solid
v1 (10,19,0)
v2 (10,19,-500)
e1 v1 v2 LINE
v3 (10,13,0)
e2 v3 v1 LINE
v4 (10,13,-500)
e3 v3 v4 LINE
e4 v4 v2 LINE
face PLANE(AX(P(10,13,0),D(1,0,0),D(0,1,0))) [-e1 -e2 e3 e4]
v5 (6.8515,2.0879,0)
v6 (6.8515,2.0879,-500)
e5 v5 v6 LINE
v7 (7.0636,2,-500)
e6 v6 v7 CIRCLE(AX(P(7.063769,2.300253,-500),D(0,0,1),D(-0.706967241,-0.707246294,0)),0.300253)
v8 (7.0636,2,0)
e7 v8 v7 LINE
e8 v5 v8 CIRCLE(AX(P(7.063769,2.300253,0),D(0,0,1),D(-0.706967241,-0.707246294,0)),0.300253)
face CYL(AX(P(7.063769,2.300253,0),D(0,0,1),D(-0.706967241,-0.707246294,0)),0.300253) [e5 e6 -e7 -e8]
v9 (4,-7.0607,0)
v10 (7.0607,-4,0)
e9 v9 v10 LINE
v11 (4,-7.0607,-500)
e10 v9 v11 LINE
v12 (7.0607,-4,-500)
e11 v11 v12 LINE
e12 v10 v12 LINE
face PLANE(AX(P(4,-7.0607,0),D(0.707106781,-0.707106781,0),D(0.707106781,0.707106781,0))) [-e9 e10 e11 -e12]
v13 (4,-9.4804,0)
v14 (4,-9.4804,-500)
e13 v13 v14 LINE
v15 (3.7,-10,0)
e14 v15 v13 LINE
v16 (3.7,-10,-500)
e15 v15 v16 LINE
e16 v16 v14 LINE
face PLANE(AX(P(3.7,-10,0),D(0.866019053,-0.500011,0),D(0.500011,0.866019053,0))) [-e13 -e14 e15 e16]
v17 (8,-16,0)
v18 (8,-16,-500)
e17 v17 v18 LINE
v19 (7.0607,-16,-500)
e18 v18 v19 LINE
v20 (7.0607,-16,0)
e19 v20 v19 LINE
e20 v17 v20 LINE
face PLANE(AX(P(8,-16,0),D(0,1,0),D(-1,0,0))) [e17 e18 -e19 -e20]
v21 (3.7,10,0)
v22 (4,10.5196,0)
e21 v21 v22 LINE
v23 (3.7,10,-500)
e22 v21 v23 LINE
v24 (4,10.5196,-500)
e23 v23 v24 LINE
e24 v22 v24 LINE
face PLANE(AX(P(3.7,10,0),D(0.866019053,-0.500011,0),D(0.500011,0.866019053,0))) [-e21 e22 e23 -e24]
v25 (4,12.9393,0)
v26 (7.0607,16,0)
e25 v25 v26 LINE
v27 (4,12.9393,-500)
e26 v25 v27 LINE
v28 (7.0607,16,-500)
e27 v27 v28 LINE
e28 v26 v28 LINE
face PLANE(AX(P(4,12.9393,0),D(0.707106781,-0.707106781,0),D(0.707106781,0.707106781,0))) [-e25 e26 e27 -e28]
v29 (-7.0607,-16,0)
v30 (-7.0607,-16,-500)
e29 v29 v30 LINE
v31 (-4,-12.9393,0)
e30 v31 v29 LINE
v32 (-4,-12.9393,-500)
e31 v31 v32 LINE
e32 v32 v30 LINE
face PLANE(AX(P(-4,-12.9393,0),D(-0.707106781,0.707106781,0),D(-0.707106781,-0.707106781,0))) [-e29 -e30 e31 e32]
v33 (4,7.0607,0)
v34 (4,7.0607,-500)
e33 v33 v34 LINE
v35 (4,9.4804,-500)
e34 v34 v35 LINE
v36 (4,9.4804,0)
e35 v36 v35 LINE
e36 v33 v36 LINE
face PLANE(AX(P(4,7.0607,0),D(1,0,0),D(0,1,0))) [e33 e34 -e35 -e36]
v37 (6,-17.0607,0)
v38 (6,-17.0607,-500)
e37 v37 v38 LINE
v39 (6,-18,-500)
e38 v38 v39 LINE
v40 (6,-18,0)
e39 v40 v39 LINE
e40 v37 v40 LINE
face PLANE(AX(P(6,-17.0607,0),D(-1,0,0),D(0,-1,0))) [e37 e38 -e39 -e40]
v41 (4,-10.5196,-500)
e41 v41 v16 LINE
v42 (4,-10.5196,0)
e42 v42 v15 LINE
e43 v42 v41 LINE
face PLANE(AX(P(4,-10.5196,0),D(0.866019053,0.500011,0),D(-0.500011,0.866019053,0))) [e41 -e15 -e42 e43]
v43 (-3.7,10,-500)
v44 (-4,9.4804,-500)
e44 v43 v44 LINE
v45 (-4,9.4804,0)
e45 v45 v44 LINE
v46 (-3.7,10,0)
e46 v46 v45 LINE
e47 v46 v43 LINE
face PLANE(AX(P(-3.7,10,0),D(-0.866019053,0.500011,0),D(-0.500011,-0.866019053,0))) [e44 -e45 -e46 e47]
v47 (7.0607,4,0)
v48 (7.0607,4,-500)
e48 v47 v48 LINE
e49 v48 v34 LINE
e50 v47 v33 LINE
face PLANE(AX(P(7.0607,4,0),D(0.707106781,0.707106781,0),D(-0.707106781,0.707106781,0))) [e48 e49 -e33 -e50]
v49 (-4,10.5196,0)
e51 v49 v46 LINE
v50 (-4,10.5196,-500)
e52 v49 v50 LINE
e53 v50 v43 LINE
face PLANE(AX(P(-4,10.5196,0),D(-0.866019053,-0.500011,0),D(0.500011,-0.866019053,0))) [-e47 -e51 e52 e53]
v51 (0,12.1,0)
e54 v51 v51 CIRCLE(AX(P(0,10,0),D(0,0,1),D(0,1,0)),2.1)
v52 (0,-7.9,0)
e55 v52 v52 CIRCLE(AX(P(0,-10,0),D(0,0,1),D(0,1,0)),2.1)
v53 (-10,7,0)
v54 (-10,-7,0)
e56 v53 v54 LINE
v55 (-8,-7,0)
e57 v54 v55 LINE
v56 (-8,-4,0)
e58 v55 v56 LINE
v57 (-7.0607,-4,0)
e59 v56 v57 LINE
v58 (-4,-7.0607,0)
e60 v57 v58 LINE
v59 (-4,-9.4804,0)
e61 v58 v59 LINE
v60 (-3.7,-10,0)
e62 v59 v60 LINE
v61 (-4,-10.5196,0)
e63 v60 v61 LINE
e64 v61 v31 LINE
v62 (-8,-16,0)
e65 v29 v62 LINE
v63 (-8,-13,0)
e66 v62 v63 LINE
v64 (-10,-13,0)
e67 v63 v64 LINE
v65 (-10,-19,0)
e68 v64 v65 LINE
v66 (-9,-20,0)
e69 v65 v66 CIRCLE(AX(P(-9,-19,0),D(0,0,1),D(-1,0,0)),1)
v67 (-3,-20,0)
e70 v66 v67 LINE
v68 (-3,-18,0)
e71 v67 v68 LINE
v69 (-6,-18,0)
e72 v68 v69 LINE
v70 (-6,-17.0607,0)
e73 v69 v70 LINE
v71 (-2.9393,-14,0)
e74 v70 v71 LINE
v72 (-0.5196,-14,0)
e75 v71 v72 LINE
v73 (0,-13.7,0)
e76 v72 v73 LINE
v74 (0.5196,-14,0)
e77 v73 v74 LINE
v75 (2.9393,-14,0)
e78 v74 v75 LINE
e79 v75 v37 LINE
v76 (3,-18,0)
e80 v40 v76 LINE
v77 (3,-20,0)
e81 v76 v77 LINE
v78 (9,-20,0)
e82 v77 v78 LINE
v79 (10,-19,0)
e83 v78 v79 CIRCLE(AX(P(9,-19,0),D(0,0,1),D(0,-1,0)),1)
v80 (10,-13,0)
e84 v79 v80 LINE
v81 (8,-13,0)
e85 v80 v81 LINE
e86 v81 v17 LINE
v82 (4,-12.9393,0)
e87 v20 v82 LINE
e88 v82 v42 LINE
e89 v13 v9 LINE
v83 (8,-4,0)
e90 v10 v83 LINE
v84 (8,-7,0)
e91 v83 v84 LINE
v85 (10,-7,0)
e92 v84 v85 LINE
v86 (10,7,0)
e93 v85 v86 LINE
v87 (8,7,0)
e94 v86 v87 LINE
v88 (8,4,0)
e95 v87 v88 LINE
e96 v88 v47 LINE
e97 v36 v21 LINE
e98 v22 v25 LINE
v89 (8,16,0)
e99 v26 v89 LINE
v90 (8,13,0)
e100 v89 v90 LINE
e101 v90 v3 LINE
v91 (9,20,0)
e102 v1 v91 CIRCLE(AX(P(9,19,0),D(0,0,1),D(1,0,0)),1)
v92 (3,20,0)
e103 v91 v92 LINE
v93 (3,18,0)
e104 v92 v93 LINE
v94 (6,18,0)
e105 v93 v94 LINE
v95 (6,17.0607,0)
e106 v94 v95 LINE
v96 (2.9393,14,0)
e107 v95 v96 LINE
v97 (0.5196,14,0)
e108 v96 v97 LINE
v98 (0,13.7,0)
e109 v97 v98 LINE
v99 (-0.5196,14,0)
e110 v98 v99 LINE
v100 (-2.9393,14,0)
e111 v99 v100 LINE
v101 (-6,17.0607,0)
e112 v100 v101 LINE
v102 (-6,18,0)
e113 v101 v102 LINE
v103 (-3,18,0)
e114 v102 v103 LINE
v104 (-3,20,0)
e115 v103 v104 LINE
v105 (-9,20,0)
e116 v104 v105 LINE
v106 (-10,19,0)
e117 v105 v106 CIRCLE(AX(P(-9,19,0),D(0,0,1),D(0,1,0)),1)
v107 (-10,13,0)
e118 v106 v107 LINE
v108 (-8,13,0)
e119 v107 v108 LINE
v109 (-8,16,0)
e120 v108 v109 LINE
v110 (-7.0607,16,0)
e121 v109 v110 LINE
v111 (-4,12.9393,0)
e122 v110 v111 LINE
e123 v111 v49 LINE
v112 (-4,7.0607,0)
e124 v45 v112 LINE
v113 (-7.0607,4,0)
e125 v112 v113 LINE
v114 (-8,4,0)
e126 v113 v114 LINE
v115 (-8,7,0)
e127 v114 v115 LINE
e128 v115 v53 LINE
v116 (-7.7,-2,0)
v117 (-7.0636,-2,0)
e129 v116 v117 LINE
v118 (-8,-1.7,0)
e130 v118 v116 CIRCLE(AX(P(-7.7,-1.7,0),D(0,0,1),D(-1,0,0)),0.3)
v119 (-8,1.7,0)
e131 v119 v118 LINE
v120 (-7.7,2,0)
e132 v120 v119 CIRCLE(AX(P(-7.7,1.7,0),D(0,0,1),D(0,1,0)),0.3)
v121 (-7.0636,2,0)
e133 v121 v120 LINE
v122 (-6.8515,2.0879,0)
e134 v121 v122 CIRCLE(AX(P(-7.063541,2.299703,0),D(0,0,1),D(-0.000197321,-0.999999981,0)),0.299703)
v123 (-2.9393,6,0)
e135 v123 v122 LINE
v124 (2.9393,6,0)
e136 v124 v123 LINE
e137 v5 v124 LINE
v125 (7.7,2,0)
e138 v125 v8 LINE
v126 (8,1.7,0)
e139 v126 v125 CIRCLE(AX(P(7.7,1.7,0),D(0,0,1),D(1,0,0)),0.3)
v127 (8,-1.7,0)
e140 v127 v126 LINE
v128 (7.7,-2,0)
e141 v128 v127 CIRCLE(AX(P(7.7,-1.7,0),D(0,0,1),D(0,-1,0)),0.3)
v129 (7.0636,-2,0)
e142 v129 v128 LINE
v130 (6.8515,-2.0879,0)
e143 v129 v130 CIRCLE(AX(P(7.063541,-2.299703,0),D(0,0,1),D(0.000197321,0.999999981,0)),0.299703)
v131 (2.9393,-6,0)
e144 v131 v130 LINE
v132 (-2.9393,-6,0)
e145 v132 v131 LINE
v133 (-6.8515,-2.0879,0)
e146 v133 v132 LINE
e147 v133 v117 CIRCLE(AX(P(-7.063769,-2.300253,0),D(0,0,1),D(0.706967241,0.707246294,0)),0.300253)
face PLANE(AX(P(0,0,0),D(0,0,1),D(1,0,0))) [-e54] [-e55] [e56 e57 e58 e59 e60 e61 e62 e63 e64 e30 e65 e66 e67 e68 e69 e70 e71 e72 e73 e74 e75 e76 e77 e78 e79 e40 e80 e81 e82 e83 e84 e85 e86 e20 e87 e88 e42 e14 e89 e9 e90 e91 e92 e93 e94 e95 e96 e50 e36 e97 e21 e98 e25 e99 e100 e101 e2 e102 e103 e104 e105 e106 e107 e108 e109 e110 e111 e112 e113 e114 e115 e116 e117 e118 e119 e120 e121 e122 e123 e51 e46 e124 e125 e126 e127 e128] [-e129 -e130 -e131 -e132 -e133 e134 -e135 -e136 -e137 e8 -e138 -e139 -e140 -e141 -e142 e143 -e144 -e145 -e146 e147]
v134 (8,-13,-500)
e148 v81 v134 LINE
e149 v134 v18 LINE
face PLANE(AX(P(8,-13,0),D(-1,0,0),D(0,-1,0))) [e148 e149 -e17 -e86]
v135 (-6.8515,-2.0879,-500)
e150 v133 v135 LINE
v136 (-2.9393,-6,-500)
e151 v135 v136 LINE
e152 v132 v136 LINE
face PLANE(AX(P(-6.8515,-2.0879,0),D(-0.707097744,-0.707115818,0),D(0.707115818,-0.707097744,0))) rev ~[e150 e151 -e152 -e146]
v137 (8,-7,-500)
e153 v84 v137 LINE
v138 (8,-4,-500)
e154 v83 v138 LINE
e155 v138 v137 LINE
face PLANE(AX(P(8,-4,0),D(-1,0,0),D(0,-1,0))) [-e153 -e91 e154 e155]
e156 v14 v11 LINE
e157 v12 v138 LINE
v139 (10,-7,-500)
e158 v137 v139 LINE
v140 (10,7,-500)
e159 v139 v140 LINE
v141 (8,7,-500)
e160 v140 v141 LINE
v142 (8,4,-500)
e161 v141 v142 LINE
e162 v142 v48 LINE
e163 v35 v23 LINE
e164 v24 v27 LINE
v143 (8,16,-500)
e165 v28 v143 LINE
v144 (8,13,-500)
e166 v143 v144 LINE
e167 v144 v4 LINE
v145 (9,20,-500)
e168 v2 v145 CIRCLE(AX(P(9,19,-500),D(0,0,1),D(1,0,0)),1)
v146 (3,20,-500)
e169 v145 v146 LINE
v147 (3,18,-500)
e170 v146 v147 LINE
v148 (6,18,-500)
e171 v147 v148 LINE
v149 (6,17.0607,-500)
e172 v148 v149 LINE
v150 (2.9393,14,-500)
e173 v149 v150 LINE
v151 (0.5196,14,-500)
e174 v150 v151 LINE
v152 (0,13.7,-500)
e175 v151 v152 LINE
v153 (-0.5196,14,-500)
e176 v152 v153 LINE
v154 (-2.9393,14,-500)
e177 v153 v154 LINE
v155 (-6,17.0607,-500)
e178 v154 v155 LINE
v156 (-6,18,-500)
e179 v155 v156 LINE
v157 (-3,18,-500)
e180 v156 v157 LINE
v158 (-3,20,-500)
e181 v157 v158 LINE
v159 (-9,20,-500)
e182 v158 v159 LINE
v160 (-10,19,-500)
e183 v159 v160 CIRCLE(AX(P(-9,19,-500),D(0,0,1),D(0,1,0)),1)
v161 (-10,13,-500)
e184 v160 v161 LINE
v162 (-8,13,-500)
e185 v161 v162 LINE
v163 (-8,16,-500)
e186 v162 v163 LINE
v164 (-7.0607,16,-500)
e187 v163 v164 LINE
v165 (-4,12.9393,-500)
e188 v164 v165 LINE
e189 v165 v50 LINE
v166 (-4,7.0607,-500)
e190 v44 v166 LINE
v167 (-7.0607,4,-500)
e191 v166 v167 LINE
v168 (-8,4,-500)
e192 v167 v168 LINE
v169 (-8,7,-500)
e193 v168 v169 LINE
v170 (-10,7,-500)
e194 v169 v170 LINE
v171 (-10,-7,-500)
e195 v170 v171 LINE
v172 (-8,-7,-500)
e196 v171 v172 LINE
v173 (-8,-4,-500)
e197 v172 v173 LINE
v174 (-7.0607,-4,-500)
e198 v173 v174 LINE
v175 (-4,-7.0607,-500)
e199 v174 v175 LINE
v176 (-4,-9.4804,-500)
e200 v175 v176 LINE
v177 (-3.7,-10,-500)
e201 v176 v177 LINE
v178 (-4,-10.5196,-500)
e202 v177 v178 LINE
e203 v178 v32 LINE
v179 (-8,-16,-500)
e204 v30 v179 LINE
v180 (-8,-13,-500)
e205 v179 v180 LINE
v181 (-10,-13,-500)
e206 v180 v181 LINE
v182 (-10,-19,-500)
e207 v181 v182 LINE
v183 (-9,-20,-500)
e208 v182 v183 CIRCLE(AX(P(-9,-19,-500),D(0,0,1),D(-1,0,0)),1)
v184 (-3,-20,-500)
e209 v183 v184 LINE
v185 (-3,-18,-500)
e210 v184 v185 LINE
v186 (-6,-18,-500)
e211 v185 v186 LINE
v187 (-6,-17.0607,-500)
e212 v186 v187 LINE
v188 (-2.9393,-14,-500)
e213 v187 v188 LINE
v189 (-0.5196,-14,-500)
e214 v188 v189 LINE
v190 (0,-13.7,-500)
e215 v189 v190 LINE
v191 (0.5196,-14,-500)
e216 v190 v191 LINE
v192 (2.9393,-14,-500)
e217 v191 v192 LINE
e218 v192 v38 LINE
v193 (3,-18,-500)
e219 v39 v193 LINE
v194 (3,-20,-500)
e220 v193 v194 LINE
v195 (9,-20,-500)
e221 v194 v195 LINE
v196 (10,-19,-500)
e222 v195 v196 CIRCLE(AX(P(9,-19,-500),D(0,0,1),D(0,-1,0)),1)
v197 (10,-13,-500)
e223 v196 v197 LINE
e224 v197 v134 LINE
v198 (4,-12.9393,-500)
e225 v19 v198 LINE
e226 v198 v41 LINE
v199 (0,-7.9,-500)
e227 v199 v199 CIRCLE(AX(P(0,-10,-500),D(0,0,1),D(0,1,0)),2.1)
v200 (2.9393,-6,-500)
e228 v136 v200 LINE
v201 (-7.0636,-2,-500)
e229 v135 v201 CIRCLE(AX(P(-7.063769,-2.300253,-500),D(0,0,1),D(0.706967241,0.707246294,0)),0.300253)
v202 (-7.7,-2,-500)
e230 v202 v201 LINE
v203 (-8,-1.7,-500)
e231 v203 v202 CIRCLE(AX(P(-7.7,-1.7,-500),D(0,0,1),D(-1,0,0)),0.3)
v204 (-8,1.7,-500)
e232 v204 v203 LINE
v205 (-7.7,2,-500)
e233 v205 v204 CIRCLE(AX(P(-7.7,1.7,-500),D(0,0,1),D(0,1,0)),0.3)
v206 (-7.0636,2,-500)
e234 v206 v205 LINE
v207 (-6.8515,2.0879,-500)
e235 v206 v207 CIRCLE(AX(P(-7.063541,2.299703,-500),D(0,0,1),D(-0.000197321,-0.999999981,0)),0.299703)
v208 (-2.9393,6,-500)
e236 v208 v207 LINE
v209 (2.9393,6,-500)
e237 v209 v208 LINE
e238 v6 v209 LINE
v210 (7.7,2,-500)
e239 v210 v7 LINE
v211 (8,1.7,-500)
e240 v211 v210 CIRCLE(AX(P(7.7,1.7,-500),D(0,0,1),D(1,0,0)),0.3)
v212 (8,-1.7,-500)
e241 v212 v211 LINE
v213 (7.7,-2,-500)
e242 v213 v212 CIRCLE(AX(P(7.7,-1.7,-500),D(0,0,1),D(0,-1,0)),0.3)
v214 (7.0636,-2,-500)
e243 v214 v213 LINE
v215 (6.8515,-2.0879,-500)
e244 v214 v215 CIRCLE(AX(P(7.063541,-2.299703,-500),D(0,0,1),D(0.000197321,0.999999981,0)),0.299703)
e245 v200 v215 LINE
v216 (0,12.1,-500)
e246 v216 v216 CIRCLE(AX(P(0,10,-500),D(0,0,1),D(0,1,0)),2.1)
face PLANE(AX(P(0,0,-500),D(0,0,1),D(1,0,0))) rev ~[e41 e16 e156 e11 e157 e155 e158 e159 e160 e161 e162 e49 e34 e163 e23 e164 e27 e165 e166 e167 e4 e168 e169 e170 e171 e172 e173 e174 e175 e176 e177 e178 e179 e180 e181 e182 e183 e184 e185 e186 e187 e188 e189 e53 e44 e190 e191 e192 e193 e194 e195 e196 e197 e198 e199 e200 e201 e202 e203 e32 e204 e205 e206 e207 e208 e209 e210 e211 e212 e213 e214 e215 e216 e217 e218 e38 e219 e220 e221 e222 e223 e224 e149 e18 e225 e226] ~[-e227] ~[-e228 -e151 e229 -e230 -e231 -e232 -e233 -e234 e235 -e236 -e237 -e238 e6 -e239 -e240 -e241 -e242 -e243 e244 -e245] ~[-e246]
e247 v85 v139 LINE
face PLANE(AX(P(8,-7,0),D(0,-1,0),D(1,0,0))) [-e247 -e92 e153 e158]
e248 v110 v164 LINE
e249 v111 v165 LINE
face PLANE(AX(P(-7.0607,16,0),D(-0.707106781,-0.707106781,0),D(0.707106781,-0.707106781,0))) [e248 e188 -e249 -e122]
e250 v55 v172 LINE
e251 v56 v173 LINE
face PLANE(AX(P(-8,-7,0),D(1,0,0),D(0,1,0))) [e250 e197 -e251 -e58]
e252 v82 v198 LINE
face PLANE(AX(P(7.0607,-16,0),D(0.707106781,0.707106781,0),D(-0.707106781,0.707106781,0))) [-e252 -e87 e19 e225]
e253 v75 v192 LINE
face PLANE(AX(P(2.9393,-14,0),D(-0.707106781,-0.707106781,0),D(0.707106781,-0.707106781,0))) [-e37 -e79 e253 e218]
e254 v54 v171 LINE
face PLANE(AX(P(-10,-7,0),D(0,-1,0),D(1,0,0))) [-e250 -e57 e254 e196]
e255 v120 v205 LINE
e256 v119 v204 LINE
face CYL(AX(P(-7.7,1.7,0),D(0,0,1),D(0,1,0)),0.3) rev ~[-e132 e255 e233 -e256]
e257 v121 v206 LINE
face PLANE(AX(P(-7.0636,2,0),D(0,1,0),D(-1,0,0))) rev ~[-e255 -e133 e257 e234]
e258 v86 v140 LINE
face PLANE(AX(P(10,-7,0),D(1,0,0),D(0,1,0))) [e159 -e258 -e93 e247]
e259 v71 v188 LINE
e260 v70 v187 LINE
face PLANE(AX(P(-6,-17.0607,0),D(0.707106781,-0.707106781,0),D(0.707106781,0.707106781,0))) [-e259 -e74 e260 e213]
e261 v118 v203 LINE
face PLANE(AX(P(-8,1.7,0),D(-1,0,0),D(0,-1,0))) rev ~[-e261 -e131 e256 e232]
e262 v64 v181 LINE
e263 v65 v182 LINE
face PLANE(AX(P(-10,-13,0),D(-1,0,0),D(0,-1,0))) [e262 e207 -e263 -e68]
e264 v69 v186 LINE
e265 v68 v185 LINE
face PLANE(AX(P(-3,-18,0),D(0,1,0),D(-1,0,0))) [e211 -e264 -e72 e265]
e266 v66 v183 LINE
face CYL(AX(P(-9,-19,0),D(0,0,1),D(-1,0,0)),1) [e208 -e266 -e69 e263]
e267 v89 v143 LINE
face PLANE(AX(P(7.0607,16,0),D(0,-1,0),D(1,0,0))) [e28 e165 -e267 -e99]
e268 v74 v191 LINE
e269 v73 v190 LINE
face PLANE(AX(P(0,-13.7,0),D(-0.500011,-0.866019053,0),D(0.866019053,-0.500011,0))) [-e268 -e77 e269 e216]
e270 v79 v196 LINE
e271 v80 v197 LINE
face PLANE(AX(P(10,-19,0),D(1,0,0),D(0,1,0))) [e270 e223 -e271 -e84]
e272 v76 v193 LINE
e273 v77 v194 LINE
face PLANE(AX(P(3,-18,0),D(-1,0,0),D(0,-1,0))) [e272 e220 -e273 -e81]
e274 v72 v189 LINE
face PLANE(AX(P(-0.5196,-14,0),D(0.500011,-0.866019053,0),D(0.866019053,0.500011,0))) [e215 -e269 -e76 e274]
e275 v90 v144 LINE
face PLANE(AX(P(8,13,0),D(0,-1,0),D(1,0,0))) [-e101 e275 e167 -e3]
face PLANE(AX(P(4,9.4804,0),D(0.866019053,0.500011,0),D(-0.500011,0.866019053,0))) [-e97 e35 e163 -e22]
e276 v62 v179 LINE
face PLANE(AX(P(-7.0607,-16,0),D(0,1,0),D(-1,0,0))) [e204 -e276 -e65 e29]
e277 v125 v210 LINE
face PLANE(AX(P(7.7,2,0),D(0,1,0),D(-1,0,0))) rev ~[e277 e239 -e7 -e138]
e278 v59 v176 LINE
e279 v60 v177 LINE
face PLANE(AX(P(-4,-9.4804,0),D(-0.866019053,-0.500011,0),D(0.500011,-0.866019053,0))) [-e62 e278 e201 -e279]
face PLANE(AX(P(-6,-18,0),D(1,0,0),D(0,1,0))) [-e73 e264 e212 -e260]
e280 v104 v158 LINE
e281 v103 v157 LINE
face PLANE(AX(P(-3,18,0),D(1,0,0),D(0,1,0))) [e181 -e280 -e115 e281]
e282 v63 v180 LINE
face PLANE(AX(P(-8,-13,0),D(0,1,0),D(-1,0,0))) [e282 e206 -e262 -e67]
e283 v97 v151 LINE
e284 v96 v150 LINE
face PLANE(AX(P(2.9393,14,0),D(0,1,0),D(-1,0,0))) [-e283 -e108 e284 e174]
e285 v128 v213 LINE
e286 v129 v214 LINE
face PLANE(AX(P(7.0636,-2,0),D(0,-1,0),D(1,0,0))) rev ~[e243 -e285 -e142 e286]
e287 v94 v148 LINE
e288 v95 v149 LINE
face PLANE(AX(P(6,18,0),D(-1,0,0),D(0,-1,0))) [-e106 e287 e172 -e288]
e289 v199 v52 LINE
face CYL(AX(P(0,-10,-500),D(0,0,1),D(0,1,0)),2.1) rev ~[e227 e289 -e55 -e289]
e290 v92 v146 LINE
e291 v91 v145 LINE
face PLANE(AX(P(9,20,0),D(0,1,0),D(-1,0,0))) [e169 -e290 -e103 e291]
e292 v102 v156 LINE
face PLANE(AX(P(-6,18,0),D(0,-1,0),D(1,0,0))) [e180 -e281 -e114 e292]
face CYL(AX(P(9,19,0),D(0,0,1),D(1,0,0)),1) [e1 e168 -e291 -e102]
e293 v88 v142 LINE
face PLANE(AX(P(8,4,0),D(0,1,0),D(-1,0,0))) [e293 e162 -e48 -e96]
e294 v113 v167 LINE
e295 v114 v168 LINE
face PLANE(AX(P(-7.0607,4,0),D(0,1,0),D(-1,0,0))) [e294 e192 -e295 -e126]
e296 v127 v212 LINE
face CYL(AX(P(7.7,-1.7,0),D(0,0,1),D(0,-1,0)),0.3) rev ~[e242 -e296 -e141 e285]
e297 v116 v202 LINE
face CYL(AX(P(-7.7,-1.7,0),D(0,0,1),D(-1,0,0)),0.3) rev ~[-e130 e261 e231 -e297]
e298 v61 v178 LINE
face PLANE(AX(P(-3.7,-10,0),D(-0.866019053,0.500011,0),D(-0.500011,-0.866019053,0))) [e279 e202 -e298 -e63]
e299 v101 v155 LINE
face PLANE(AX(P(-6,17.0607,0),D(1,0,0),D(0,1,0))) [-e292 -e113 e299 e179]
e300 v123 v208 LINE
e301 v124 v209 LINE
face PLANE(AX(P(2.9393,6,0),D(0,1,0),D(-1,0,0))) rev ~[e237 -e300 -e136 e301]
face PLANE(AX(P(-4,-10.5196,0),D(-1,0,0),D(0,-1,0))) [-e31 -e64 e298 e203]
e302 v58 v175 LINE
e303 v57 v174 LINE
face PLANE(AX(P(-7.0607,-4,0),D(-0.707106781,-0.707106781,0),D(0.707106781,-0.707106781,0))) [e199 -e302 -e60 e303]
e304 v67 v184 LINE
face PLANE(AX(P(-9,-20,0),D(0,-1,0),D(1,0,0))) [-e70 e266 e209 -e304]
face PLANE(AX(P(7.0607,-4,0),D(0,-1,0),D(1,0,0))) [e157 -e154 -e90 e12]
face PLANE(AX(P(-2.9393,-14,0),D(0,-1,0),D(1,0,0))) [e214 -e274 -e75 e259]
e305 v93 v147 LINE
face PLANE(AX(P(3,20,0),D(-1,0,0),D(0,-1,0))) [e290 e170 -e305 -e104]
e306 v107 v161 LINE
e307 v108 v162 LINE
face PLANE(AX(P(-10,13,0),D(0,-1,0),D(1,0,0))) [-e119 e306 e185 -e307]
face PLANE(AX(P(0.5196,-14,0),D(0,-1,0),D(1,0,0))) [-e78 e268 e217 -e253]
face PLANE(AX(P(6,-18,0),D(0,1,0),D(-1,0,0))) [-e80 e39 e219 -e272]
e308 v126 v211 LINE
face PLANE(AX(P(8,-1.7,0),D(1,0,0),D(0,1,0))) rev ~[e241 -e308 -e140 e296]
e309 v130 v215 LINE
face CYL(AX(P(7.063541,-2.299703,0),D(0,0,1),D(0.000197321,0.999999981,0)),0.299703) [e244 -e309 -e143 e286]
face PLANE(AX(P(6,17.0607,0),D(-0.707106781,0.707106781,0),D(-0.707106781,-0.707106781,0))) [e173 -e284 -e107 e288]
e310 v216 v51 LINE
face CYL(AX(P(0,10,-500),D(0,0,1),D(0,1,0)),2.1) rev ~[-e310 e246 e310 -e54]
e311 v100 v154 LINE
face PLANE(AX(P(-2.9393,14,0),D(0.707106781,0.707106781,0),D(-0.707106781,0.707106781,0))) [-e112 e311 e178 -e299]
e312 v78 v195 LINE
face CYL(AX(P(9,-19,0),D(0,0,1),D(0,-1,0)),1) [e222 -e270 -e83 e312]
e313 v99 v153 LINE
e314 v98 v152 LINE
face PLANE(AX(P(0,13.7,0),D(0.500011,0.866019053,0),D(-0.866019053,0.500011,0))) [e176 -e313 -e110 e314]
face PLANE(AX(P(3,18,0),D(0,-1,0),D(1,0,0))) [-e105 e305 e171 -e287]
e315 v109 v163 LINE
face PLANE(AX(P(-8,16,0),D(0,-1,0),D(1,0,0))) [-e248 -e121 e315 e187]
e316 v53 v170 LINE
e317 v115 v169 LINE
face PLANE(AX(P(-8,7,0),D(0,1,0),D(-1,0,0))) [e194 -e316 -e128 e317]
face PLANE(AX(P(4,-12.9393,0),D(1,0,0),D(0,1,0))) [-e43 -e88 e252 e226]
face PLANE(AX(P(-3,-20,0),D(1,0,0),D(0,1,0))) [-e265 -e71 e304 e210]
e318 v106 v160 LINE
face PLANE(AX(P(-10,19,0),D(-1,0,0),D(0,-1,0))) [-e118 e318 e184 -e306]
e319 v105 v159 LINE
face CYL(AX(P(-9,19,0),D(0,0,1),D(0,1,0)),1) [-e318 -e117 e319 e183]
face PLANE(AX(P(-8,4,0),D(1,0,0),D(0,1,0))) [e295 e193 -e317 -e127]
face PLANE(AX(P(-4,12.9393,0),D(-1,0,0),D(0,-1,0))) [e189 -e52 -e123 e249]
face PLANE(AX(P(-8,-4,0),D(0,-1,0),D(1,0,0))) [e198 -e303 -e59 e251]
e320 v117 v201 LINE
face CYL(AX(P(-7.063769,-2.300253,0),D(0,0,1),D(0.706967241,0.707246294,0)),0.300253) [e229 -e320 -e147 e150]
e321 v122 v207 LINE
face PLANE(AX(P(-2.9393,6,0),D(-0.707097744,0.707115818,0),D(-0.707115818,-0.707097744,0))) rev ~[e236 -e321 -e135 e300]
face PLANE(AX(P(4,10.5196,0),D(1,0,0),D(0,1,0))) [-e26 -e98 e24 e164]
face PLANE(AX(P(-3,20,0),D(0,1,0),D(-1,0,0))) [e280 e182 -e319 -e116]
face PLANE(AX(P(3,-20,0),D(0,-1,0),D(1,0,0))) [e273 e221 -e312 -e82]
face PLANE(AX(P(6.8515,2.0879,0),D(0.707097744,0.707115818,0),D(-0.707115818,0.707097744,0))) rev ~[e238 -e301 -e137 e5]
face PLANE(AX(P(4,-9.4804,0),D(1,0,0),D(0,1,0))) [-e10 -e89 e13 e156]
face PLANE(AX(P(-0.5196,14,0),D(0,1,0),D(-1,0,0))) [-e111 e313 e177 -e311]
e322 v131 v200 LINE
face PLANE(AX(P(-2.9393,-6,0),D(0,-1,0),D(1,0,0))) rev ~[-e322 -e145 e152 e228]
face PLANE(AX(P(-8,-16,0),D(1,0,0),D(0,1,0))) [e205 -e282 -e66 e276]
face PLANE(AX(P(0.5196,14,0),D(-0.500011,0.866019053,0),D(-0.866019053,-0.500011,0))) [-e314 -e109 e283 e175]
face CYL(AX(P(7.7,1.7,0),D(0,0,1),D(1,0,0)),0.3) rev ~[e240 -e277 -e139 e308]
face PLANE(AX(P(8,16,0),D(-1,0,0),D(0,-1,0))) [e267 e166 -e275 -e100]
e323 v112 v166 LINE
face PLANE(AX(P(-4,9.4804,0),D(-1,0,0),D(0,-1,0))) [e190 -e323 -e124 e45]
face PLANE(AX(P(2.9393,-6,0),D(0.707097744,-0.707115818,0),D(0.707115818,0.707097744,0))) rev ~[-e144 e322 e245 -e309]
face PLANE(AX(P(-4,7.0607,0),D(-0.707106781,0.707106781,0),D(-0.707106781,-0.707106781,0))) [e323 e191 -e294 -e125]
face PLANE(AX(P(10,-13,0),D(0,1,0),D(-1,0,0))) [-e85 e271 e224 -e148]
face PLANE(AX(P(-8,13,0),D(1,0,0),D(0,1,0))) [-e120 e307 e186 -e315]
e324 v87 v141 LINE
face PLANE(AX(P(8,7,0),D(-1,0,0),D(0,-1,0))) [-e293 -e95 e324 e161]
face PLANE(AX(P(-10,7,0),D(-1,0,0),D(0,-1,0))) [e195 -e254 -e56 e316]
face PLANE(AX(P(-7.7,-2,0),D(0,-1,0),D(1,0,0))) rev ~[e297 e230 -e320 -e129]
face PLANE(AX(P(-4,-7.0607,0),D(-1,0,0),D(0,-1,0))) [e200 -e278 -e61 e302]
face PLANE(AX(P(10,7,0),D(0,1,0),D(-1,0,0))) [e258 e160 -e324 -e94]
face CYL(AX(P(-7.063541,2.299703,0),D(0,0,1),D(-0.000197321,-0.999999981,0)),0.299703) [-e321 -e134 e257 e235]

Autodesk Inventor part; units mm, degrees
sketch "Sketch_1" plane through (0, 0, 0) normal (0, 0, 1) x (1, 0, 0)
  line L0 (-10, -7) -> (-8, -7)
  line L1 (-8, -7) -> (-8, -4)
  line L2 (-8, -4) -> (-7.0607, -4)
  line L3 (-7.0607, -4) -> (-4, -7.0607)
  line L4 (-4, -7.0607) -> (-4, -9.4804)
  line L5 (-4, -9.4804) -> (-3.7, -10)
  line L6 (-3.7, -10) -> (-4, -10.5196)
  line L7 (-4, -10.5196) -> (-4, -12.9393)
  line L8 (-4, -12.9393) -> (-7.0607, -16)
  line L9 (-7.0607, -16) -> (-8, -16)
  line L10 (-8, -16) -> (-8, -13)
  line L11 (-8, -13) -> (-10, -13)
  line L12 (-10, -13) -> (-10, -19)
  arc A0 (-10, -19) -> (-9, -20) centre (-9, -19) ccw
  line L13 (-9, -20) -> (-3, -20)
  line L14 (-3, -20) -> (-3, -18)
  line L15 (-3, -18) -> (-6, -18)
  line L16 (-6, -18) -> (-6, -17.0607)
  line L17 (-6, -17.0607) -> (-2.9393, -14)
  line L18 (-2.9393, -14) -> (-0.5196, -14)
  line L19 (-0.5196, -14) -> (0, -13.7)
  line L20 (0, -13.7) -> (0.5196, -14)
  line L21 (0.5196, -14) -> (2.9393, -14)
  line L22 (2.9393, -14) -> (6, -17.0607)
  line L23 (6, -17.0607) -> (6, -18)
  line L24 (6, -18) -> (3, -18)
  line L25 (3, -18) -> (3, -20)
  line L26 (3, -20) -> (9, -20)
  arc A1 (9, -20) -> (10, -19) centre (9, -19) ccw
  line L27 (10, -19) -> (10, -13)
  line L28 (10, -13) -> (8, -13)
  line L29 (8, -13) -> (8, -16)
  line L30 (8, -16) -> (7.0607, -16)
  line L31 (7.0607, -16) -> (4, -12.9393)
  line L32 (4, -12.9393) -> (4, -10.5196)
  line L33 (4, -10.5196) -> (3.7, -10)
  line L34 (3.7, -10) -> (4, -9.4804)
  line L35 (4, -9.4804) -> (4, -7.0607)
  line L36 (4, -7.0607) -> (7.0607, -4)
  line L37 (7.0607, -4) -> (8, -4)
  line L38 (8, -4) -> (8, -7)
  line L39 (8, -7) -> (10, -7)
  line L40 (10, -7) -> (10, 7)
  line L41 (10, 7) -> (8, 7)
  line L42 (8, 7) -> (8, 4)
  line L43 (8, 4) -> (7.0607, 4)
  line L44 (7.0607, 4) -> (4, 7.0607)
  line L45 (4, 7.0607) -> (4, 9.4804)
  line L46 (4, 9.4804) -> (3.7, 10)
  line L47 (3.7, 10) -> (4, 10.5196)
  line L48 (4, 10.5196) -> (4, 12.9393)
  line L49 (4, 12.9393) -> (7.0607, 16)
  line L50 (7.0607, 16) -> (8, 16)
  line L51 (8, 16) -> (8, 13)
  line L52 (8, 13) -> (10, 13)
  line L53 (10, 13) -> (10, 19)
  arc A2 (10, 19) -> (9, 20) centre (9, 19) ccw
  line L54 (9, 20) -> (3, 20)
  line L55 (3, 20) -> (3, 18)
  line L56 (3, 18) -> (6, 18)
  line L57 (6, 18) -> (6, 17.0607)
  line L58 (6, 17.0607) -> (2.9393, 14)
  line L59 (2.9393, 14) -> (0.5196, 14)
  line L60 (0.5196, 14) -> (0, 13.7)
  line L61 (0, 13.7) -> (-0.5196, 14)
  line L62 (-0.5196, 14) -> (-2.9393, 14)
  line L63 (-2.9393, 14) -> (-6, 17.0607)
  line L64 (-6, 17.0607) -> (-6, 18)
  line L65 (-6, 18) -> (-3, 18)
  line L66 (-3, 18) -> (-3, 20)
  line L67 (-3, 20) -> (-9, 20)
  arc A3 (-9, 20) -> (-10, 19) centre (-9, 19) ccw
  line L68 (-10, 19) -> (-10, 13)
  line L69 (-10, 13) -> (-8, 13)
  line L70 (-8, 13) -> (-8, 16)
  line L71 (-8, 16) -> (-7.0607, 16)
  line L72 (-7.0607, 16) -> (-4, 12.9393)
  line L73 (-4, 12.9393) -> (-4, 10.5196)
  line L74 (-4, 10.5196) -> (-3.7, 10)
  line L75 (-3.7, 10) -> (-4, 9.4804)
  line L76 (-4, 9.4804) -> (-4, 7.0607)
  line L77 (-4, 7.0607) -> (-7.0607, 4)
  line L78 (-7.0607, 4) -> (-8, 4)
  line L79 (-8, 4) -> (-8, 7)
  line L80 (-8, 7) -> (-10, 7)
  line L81 (-10, 7) -> (-10, -7)
  line L82 (-8, 1.7) -> (-8, -1.7)
  arc A4 (-8, -1.7) -> (-7.7, -2) centre (-7.7, -1.7) ccw
  line L83 (-7.7, -2) -> (-7.0636, -2)
  arc A5 (-6.8515, -2.0879) -> (-7.0636, -2) centre (-7.0636, -2.3) ccw
  line L84 (-6.8515, -2.0879) -> (-2.9393, -6)
  line L85 (-2.9393, -6) -> (2.9393, -6)
  line L86 (2.9393, -6) -> (6.8515, -2.0879)
  arc A6 (7.0636, -2) -> (6.8515, -2.0879) centre (7.0636, -2.3) ccw
  line L87 (7.0636, -2) -> (7.7, -2)
  arc A7 (7.7, -2) -> (8, -1.7) centre (7.7, -1.7) ccw
  line L88 (8, -1.7) -> (8, 1.7)
  arc A8 (8, 1.7) -> (7.7, 2) centre (7.7, 1.7) ccw
  line L89 (7.7, 2) -> (7.0636, 2)
  arc A9 (6.8515, 2.0879) -> (7.0636, 2) centre (7.0636, 2.3) ccw
  line L90 (6.8515, 2.0879) -> (2.9393, 6)
  line L91 (2.9393, 6) -> (-2.9393, 6)
  line L92 (-2.9393, 6) -> (-6.8515, 2.0879)
  arc A10 (-7.0636, 2) -> (-6.8515, 2.0879) centre (-7.0636, 2.3) ccw
  line L93 (-7.0636, 2) -> (-7.7, 2)
  arc A11 (-7.7, 2) -> (-8, 1.7) centre (-7.7, 1.7) ccw
extrude "Extrusion1" add sketch "Sketch_1" against normal blind 500
sketch "Sketch2" plane through (0, 0, -500) normal (0, 0, -1) x (-1, 0, 0)
  point P0 (0, 10)
hole "Hole1" at (0, 10, -500) direction (0, 0, 1) diameter 4.2 depth 500
pattern_linear "Rectangular Pattern1" count 2 spacing 20 along (0, -1, 0) of "Hole1"
ref_plane "C1_XY" through (0, 0, 0) normal (0, 0, 1) x (1, 0, 0)
ref_plane "C1_YZ" through (0, 0, 0) normal (1, 0, 0) x (0, 1, 0)
ref_plane "C1_ZX" through (0, 0, 0) normal (0, 1, 0) x (0, 0, 1)
properties part number "HFS5-2040-500"
